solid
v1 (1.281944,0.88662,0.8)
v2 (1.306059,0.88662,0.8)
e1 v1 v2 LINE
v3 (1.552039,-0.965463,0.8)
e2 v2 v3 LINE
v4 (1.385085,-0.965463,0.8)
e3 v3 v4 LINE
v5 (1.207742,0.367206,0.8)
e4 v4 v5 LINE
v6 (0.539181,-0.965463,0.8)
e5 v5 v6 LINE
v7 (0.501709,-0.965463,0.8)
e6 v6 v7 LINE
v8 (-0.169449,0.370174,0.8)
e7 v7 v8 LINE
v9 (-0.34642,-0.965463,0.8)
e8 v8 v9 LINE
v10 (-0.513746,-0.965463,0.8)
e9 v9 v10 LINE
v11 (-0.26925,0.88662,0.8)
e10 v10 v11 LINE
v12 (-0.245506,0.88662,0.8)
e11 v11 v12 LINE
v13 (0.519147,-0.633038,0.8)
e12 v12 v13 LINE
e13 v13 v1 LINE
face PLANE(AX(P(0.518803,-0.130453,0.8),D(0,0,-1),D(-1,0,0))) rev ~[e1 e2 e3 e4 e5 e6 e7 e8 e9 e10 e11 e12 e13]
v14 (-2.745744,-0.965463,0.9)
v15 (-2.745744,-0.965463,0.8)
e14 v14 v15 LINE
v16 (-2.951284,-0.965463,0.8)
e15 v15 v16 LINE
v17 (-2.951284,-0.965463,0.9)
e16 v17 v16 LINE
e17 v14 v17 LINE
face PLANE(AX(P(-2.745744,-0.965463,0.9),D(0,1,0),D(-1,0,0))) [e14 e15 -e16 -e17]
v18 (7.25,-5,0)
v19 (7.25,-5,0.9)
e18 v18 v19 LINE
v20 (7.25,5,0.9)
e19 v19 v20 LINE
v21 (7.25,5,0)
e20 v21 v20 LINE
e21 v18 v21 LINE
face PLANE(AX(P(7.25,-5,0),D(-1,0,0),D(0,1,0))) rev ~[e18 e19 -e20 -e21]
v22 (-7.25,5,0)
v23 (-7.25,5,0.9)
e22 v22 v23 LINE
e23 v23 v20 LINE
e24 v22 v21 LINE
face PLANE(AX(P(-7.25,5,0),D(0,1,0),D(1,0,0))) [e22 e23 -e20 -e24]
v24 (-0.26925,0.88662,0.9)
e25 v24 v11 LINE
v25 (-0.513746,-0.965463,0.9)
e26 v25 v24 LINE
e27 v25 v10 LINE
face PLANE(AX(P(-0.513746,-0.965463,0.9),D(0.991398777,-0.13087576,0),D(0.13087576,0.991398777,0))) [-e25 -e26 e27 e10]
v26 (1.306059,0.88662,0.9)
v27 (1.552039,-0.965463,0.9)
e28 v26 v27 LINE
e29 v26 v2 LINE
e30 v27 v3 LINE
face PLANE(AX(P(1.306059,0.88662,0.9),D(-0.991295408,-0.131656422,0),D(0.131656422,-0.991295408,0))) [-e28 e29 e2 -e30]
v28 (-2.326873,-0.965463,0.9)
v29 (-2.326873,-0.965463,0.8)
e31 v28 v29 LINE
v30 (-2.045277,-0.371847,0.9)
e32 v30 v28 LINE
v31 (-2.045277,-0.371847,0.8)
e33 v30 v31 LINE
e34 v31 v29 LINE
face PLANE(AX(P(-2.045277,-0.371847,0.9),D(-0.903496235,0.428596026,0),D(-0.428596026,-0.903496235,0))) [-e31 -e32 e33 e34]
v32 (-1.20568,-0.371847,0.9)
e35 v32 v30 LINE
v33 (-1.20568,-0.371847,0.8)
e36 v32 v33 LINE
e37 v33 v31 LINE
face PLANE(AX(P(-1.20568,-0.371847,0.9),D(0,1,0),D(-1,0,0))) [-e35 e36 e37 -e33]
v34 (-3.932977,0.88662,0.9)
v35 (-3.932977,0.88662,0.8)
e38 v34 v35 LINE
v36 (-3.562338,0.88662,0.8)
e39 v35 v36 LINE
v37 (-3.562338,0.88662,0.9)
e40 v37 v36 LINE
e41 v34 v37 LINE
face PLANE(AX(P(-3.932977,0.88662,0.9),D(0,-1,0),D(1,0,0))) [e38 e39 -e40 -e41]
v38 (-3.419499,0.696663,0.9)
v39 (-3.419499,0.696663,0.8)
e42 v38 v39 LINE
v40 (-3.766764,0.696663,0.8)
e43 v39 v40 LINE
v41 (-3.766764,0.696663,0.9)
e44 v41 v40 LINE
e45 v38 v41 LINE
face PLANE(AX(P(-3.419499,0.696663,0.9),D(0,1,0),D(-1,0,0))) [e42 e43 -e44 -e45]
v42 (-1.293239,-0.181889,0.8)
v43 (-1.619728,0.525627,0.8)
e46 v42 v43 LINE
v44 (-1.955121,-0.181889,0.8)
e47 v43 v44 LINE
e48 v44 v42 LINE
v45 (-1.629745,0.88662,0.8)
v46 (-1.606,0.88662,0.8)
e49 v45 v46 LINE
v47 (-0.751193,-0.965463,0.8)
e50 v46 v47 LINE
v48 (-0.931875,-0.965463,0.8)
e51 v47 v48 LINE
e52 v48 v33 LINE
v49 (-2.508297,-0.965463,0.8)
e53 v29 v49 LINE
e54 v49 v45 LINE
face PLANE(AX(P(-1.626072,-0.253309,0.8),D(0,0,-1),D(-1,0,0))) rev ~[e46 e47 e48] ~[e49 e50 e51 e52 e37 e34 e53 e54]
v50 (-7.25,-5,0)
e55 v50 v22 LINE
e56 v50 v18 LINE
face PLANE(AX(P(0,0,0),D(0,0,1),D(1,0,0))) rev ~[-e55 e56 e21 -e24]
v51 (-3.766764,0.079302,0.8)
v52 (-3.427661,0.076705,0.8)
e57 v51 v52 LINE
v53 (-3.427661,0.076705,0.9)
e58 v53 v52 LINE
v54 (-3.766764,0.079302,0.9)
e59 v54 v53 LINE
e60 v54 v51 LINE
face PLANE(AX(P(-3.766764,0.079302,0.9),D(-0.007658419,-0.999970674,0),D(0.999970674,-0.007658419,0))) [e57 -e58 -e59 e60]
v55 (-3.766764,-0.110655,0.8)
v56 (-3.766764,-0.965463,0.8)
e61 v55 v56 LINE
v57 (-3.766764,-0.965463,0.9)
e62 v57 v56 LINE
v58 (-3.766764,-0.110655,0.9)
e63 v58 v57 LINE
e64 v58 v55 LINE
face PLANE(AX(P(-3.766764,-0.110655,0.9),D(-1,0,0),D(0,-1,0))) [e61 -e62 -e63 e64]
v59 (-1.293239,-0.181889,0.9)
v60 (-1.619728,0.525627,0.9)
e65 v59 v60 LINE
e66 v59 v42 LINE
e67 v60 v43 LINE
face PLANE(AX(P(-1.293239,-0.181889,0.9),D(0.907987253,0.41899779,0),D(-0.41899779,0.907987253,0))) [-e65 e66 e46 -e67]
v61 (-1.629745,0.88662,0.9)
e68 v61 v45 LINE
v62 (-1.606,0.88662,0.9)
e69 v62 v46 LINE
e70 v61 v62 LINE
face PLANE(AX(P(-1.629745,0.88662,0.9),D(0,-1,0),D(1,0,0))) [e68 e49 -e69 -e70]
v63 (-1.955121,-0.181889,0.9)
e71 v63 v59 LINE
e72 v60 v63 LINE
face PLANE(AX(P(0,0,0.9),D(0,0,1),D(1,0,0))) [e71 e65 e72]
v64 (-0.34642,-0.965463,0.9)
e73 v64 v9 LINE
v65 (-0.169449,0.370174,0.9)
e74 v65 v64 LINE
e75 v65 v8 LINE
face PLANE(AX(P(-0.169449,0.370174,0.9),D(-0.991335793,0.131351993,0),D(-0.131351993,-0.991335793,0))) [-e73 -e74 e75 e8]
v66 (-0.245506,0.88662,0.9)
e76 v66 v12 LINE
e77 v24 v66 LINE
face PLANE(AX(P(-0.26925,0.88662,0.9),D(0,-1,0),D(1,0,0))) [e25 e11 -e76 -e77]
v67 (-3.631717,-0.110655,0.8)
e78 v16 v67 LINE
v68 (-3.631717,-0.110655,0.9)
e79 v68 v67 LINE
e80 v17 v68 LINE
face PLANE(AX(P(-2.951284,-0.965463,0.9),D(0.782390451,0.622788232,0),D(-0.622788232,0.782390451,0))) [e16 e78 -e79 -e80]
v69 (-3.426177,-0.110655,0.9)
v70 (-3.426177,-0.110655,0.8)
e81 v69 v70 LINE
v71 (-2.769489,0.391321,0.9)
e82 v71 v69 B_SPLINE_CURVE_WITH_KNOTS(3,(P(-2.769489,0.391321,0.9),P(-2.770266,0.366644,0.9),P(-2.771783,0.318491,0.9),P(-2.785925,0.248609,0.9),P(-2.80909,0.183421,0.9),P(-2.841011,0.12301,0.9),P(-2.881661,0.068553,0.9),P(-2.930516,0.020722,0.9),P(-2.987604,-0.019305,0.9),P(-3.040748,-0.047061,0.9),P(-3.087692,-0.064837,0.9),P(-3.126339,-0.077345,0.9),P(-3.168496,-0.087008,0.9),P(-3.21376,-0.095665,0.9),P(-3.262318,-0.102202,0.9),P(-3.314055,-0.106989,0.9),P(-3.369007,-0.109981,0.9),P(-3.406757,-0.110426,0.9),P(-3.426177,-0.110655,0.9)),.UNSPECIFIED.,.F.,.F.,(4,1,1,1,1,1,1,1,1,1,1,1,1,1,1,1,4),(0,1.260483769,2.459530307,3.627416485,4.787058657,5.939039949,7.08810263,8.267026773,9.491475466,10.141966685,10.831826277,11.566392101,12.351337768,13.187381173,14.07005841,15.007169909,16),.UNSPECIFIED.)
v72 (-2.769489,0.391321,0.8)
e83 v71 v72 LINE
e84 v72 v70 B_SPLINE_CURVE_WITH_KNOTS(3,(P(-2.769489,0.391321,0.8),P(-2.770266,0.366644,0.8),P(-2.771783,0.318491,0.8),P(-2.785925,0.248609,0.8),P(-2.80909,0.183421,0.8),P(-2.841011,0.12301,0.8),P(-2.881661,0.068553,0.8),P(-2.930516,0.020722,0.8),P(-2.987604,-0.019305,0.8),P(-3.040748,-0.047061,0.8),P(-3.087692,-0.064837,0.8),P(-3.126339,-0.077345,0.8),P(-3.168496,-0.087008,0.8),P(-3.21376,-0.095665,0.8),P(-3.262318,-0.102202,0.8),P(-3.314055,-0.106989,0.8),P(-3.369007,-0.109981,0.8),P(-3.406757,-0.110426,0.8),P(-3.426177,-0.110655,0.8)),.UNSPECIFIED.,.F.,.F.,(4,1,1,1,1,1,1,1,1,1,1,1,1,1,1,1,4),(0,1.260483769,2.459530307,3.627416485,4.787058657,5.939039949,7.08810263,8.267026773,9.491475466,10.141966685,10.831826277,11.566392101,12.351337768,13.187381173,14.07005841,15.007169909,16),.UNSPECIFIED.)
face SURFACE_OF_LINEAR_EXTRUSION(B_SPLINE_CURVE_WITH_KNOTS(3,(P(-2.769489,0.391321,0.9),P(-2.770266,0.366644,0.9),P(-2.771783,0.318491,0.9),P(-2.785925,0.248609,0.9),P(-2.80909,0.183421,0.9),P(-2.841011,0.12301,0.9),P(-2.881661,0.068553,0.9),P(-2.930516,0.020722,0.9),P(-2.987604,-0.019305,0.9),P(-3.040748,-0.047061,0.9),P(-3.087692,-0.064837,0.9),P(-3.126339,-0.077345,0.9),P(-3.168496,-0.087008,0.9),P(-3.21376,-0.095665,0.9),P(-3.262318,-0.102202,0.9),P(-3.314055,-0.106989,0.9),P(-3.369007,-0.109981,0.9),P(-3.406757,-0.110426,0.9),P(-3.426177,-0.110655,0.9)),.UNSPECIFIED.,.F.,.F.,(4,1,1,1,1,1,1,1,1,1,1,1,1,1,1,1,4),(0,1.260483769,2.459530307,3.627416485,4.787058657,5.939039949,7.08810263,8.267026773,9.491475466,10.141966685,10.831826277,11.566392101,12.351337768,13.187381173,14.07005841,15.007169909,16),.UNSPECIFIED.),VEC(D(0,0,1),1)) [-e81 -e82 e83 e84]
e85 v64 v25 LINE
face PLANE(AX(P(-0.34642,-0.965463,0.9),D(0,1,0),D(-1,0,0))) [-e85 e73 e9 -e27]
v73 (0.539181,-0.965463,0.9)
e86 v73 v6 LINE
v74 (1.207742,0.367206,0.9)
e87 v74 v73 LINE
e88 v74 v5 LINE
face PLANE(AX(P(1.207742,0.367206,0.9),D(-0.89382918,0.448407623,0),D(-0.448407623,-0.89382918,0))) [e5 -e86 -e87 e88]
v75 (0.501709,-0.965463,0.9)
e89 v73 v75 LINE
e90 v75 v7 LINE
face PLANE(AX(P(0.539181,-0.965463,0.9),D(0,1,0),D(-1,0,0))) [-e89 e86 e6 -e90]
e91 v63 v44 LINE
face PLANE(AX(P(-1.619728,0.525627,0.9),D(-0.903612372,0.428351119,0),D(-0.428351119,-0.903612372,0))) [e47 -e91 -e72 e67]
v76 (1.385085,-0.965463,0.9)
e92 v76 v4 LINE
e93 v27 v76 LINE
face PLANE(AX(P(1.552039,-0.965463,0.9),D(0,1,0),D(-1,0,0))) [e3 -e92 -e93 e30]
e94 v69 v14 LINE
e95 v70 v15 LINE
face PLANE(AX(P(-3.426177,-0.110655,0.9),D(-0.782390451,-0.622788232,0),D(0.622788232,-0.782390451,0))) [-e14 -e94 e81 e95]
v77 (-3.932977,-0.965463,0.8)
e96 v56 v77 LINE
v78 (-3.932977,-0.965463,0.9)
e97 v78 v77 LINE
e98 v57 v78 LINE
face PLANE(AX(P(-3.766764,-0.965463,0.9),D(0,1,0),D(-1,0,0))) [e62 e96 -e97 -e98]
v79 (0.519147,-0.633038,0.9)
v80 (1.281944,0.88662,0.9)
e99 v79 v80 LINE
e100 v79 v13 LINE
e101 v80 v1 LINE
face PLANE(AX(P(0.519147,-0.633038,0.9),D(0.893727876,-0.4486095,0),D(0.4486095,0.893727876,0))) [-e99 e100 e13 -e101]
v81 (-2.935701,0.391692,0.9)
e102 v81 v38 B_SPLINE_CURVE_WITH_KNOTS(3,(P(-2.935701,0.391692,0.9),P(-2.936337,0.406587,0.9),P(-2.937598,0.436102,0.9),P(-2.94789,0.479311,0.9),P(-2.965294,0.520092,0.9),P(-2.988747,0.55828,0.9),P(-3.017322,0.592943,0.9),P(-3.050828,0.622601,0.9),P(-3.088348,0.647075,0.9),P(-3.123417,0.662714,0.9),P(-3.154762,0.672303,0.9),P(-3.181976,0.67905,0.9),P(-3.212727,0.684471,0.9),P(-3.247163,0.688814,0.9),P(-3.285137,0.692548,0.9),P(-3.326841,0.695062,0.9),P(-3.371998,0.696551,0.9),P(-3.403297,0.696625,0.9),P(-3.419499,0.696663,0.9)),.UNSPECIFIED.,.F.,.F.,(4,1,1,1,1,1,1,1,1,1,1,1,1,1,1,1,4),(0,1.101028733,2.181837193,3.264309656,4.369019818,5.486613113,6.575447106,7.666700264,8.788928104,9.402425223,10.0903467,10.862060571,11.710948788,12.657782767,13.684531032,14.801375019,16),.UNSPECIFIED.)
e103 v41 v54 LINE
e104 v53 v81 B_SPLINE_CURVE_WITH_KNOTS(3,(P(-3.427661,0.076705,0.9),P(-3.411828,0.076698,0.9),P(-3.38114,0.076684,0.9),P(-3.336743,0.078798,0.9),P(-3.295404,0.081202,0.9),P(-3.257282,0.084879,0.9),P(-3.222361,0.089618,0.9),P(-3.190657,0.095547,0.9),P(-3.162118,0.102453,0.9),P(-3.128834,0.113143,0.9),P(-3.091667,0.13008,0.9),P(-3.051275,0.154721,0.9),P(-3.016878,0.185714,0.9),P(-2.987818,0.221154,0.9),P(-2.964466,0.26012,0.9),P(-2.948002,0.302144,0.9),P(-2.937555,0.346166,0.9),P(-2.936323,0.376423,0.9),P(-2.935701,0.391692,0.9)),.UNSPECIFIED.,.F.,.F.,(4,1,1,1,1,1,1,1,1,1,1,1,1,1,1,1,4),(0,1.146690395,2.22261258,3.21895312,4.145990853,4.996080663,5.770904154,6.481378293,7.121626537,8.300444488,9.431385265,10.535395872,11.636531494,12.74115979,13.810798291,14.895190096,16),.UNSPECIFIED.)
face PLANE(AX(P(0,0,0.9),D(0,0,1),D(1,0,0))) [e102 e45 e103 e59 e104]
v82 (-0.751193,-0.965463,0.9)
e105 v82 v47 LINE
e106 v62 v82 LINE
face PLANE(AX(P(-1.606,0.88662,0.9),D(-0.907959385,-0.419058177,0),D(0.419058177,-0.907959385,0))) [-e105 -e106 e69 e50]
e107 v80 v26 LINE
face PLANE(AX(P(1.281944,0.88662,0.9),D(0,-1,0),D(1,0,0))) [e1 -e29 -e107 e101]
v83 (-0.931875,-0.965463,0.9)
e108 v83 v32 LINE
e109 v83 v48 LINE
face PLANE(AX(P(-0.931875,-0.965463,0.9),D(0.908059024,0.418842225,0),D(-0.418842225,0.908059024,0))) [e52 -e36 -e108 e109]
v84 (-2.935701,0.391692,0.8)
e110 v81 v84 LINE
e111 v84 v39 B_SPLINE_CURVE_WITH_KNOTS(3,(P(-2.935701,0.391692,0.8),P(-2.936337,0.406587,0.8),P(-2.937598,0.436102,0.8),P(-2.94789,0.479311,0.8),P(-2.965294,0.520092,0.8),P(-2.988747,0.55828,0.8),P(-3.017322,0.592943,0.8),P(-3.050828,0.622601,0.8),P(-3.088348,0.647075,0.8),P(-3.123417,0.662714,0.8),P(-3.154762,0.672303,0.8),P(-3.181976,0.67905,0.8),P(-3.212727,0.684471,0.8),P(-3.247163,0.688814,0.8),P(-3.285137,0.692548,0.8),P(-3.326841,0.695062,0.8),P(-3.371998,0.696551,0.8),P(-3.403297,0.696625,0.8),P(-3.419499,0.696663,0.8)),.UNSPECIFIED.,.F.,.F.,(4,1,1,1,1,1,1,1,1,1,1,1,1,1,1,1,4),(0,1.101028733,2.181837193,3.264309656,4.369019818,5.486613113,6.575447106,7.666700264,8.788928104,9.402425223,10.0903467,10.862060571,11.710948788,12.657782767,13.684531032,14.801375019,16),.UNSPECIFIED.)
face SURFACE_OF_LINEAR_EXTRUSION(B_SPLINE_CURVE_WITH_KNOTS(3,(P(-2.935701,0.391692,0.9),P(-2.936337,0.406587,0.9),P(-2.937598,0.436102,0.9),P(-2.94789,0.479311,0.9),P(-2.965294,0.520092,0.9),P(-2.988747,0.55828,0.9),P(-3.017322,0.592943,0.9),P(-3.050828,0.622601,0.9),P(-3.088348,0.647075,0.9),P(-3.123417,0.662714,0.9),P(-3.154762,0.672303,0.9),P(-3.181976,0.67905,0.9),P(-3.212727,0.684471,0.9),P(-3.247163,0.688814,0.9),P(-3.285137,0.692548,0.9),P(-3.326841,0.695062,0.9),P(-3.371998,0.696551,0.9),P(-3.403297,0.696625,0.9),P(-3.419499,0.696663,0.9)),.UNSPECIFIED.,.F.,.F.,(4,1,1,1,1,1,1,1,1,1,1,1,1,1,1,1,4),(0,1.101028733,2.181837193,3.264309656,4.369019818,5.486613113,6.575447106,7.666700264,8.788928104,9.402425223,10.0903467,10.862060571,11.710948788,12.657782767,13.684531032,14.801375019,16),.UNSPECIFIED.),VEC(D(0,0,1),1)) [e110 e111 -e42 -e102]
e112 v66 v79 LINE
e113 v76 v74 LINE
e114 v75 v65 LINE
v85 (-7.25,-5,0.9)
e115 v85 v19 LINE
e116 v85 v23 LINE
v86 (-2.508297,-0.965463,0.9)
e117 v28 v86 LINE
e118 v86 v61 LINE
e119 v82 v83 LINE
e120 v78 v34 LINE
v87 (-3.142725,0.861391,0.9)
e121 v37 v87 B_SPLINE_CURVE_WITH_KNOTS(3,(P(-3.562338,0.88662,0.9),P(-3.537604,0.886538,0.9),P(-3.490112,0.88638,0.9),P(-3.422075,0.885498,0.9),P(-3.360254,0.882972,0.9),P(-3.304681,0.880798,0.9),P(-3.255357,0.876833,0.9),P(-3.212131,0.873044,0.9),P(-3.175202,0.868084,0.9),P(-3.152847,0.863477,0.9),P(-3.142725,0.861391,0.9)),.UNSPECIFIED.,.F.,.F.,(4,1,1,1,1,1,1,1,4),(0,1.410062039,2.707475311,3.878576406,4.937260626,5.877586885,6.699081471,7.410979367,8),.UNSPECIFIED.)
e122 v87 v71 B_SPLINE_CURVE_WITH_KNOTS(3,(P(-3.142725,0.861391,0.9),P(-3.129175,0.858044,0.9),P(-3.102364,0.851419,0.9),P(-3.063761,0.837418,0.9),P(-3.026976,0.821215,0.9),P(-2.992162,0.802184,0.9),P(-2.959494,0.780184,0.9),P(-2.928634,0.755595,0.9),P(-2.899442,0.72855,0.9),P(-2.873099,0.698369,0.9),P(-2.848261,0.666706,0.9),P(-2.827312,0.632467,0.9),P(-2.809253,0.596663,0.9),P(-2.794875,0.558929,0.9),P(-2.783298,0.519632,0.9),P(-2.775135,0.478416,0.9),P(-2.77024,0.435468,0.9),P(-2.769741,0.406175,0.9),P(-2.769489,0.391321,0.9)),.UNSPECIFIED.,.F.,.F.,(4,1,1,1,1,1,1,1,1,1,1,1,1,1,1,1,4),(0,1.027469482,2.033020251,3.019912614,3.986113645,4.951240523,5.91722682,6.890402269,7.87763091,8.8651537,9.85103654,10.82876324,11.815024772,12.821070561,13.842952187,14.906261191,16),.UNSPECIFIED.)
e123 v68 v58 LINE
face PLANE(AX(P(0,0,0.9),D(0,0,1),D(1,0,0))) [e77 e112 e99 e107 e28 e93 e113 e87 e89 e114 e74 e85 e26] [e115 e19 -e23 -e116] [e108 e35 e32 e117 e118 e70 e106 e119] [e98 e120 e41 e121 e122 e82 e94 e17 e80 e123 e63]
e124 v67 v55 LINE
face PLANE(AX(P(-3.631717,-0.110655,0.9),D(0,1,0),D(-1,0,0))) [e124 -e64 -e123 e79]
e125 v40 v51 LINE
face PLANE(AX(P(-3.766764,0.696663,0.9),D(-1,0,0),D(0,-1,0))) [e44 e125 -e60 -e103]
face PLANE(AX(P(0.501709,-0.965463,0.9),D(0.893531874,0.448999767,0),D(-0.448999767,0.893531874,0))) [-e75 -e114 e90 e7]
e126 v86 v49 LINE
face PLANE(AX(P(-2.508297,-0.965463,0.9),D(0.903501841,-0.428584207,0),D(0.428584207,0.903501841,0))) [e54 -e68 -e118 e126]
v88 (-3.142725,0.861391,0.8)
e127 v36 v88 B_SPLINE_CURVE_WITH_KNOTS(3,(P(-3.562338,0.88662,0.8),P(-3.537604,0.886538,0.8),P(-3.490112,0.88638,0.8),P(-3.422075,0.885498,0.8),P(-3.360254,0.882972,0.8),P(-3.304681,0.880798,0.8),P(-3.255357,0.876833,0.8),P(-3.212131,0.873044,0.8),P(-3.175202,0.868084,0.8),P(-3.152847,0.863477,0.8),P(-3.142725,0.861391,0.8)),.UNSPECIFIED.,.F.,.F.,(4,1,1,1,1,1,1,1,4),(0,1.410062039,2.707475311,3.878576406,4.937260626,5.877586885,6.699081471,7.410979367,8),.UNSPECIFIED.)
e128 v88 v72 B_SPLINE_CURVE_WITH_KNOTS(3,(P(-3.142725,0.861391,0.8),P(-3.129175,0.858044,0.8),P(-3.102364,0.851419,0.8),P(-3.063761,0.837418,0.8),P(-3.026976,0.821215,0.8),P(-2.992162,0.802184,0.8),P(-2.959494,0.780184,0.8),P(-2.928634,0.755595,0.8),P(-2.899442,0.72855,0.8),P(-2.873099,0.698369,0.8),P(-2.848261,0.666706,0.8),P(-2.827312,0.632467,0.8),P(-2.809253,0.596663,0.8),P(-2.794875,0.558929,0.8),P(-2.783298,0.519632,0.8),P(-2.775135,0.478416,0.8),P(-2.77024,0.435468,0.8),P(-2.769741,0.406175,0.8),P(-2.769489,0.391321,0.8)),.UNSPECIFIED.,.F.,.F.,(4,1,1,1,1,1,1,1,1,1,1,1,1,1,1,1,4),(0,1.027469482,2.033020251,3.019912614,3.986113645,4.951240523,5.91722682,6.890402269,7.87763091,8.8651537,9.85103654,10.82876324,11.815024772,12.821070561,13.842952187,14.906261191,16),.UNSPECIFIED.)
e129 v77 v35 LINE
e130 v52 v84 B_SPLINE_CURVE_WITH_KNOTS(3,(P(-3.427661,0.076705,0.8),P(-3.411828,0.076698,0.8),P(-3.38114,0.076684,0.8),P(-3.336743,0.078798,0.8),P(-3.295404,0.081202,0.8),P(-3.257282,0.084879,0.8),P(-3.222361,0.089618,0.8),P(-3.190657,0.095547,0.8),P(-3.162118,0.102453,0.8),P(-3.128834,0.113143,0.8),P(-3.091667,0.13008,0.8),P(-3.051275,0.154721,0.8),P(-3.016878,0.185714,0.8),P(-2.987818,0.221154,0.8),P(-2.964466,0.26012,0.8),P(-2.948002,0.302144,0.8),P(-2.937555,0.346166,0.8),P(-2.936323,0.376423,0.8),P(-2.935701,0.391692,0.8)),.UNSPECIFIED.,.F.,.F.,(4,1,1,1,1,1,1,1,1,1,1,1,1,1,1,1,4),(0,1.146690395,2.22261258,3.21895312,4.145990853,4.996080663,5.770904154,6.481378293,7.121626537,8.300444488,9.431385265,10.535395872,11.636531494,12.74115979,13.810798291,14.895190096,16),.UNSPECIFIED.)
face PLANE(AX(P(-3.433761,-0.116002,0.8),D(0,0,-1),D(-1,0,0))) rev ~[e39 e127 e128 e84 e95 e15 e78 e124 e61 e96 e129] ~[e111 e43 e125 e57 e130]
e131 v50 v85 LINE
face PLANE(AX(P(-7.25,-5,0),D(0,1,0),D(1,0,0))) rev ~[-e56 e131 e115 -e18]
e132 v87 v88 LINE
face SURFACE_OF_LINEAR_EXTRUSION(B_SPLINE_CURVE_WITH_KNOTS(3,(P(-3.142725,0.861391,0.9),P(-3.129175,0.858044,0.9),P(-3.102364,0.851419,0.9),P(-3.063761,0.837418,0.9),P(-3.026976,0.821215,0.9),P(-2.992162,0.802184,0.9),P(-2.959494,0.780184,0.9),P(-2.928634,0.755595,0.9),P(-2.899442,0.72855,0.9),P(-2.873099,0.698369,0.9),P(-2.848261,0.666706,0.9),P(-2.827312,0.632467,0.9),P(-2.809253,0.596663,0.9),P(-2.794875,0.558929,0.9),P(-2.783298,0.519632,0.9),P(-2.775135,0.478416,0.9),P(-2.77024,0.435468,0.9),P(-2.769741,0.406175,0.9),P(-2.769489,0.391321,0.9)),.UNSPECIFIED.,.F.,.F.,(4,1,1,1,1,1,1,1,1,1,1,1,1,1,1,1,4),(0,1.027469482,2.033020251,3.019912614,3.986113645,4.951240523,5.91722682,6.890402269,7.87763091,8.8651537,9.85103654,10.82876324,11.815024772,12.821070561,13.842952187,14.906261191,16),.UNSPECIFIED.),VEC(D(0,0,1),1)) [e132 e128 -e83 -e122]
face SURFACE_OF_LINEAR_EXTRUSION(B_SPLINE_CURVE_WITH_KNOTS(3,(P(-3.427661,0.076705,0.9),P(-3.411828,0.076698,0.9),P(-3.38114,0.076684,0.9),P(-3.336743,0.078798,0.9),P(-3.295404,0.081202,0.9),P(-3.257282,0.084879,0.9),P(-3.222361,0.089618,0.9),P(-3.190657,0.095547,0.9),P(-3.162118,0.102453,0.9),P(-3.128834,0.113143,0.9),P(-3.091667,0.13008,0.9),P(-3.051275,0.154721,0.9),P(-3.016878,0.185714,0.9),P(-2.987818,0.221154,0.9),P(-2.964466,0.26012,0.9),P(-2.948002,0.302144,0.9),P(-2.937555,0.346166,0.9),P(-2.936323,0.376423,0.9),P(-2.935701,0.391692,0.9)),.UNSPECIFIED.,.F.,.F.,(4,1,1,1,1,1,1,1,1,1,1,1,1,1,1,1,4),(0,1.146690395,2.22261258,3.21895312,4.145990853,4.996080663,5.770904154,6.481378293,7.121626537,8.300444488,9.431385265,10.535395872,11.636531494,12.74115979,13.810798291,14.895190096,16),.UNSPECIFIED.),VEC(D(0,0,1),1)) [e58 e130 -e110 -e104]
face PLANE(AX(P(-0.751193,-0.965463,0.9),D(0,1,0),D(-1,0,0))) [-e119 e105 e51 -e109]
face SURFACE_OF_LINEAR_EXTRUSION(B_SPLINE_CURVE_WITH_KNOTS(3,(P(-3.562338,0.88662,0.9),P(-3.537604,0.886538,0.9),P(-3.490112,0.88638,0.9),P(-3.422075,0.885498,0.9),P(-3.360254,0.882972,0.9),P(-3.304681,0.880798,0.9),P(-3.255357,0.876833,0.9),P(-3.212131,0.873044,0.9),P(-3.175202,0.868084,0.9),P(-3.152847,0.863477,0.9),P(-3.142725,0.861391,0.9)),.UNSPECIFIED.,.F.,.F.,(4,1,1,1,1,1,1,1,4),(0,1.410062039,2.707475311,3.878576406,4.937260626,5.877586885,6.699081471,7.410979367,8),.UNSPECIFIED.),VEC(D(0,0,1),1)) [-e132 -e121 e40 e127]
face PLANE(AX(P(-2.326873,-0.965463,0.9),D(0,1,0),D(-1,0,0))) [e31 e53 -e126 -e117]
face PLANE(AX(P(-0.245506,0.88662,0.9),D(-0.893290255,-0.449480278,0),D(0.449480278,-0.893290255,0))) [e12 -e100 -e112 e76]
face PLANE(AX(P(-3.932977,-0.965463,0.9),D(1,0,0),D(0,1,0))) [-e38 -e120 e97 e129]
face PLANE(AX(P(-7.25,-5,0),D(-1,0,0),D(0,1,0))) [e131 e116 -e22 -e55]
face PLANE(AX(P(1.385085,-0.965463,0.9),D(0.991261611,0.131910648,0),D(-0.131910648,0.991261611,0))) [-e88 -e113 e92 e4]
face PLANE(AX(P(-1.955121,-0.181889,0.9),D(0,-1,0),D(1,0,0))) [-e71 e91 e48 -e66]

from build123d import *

# Parameters (mm, degrees)
ESQUISSE1_W             = 14.5
ESQUISSE1_H             = 10
BOSS_EXTRU_1_DEPTH      = 0.9
ENL_V_MAT_EXTRU_1_DEPTH = 0.1


with BuildPart() as part:
    # Esquisse1 → Boss.-Extru.1 (new body)
    with BuildSketch(Plane.XY):
        Rectangle(ESQUISSE1_W, ESQUISSE1_H)
    extrude(amount=BOSS_EXTRU_1_DEPTH)

    # Esquisse2 → Enlèv. mat.-Extru.1 (cut)
    # profile 1 of 3: a face of its own
    with BuildSketch(Plane.XY.offset(0.9)):
        with BuildLine():
            Line((-3.93297689, 0.88662019), (-3.562337617, 0.88662019))
            add(Edge.make_bspline(
                [(-3.562337617, 0.88662019), (-3.53760377, 0.886537859), (-3.490112043, 0.886379775), (-3.422075354, 0.885498308), (-3.360254349, 0.882971879), (-3.304681351, 0.880797753), (-3.255357379, 0.876833268), (-3.212131188, 0.873044092), (-3.175201864, 0.868083863), (-3.152846768, 0.863477243), (-3.142724987, 0.861391491)],
                knots=[0, 0, 0, 0, 1.410062039, 2.707475311, 3.878576406, 4.937260626, 5.877586885, 6.699081471, 7.410979367, 8, 8, 8, 8], degree=3))
            add(Edge.make_bspline(
                [(-3.142724987, 0.861391491), (-3.129174815, 0.858043577), (-3.102363533, 0.851419171), (-3.06376079, 0.837417632), (-3.026976127, 0.821214747), (-2.992162344, 0.802183945), (-2.959493822, 0.780183958), (-2.928633716, 0.755594576), (-2.899441991, 0.728550347), (-2.873099212, 0.69836941), (-2.84826063, 0.666705923), (-2.827311649, 0.632466852), (-2.809253053, 0.596662627), (-2.794875321, 0.558929118), (-2.783298227, 0.519632264), (-2.775135175, 0.478416109), (-2.770239755, 0.435468427), (-2.769741357, 0.406174867), (-2.769488642, 0.391321462)],
                knots=[0, 0, 0, 0, 1.027469482, 2.033020251, 3.019912614, 3.986113645, 4.951240523, 5.91722682, 6.890402269, 7.87763091, 8.8651537, 9.85103654, 10.82876324, 11.815024772, 12.821070561, 13.842952187, 14.906261191, 16, 16, 16, 16], degree=3))
            add(Edge.make_bspline(
                [(-2.769488642, 0.391321462), (-2.770265987, 0.366643719), (-2.771782788, 0.318491051), (-2.785924822, 0.248608835), (-2.809089897, 0.183421156), (-2.841010971, 0.123010093), (-2.881661277, 0.06855321), (-2.930516479, 0.020721594), (-2.987603831, -0.019304526), (-3.040747678, -0.047060802), (-3.087692275, -0.06483705), (-3.12633907, -0.077344623), (-3.168496179, -0.087008246), (-3.213759685, -0.095665482), (-3.262317953, -0.102201587), (-3.314054598, -0.106988744), (-3.36900652, -0.109980678), (-3.406756778, -0.110426239), (-3.426176843, -0.110655451)],
                knots=[0, 0, 0, 0, 1.260483769, 2.459530307, 3.627416485, 4.787058657, 5.939039949, 7.08810263, 8.267026773, 9.491475466, 10.141966685, 10.831826277, 11.566392101, 12.351337768, 13.187381173, 14.07005841, 15.007169909, 16, 16, 16, 16], degree=3))
            Line((-3.426176843, -0.110655451), (-2.745743984, -0.965463143))
            Line((-2.745743984, -0.965463143), (-2.951283681, -0.965463143))
            Line((-2.951283681, -0.965463143), (-3.63171654, -0.110655451))
            Line((-3.63171654, -0.110655451), (-3.766764283, -0.110655451))
            Line((-3.766764283, -0.110655451), (-3.766764283, -0.965463143))
            Line((-3.766764283, -0.965463143), (-3.93297689, -0.965463143))
            Line((-3.93297689, -0.965463143), (-3.93297689, 0.88662019))
        make_face()
        with BuildLine():
            Line((-3.766764283, 0.696662925), (-3.766764283, 0.079301814))
            Line((-3.766764283, 0.079301814), (-3.427660884, 0.076704742))
            add(Edge.make_bspline(
                [(-3.427660884, 0.076704742), (-3.411828197, 0.076697738), (-3.38113994, 0.076684161), (-3.336742505, 0.078797534), (-3.295403945, 0.081201707), (-3.257282381, 0.084879069), (-3.22236078, 0.089618324), (-3.190656599, 0.095546569), (-3.162118084, 0.102453286), (-3.128834274, 0.113143313), (-3.091667443, 0.130079831), (-3.051275379, 0.154720741), (-3.016878309, 0.185713566), (-2.987817607, 0.221153687), (-2.964465782, 0.260119535), (-2.94800232, 0.30214403), (-2.937555278, 0.346166251), (-2.936323089, 0.376423), (-2.935701249, 0.391692472)],
                knots=[0, 0, 0, 0, 1.146690395, 2.22261258, 3.21895312, 4.145990853, 4.996080663, 5.770904154, 6.481378293, 7.121626537, 8.300444488, 9.431385265, 10.535395872, 11.636531494, 12.74115979, 13.810798291, 14.895190096, 16, 16, 16, 16], degree=3))
            add(Edge.make_bspline(
                [(-2.935701249, 0.391692472), (-2.936337371, 0.406586701), (-2.937597934, 0.436101627), (-2.947889574, 0.479311213), (-2.965293538, 0.520092474), (-2.988747389, 0.558279514), (-3.017321942, 0.592942966), (-3.050827618, 0.622601251), (-3.088348283, 0.647074926), (-3.123416793, 0.662714119), (-3.154761563, 0.672302542), (-3.181976425, 0.679050033), (-3.212727082, 0.684471064), (-3.247162846, 0.688814496), (-3.285136709, 0.692547738), (-3.326840678, 0.69506222), (-3.371998058, 0.696551224), (-3.403296642, 0.696624825), (-3.419498658, 0.696662925)],
                knots=[0, 0, 0, 0, 1.101028733, 2.181837193, 3.264309656, 4.369019818, 5.486613113, 6.575447106, 7.666700264, 8.788928104, 9.402425223, 10.0903467, 10.862060571, 11.710948788, 12.657782767, 13.684531032, 14.801375019, 16, 16, 16, 16], degree=3))
            Line((-3.419498658, 0.696662925), (-3.766764283, 0.696662925))
        make_face(mode=Mode.SUBTRACT)
    # profile 2 of 3: a face of its own
    with BuildSketch(Plane.XY.offset(0.9)):
        Polygon((-1.606000394, 0.88662019), (-0.751192702, -0.965463143), (-0.93187471, -0.965463143), (-1.205680299, -0.37184669), (-2.045276569, -0.37184669), (-2.326873374, -0.965463143), (-2.508297403, -0.965463143), (-1.629745052, 0.88662019), align=None)
        Polygon((-1.619727775, 0.525627185), (-1.955121071, -0.181889425), (-1.293238725, -0.181889425), align=None, mode=Mode.SUBTRACT)
    # profile 3 of 3: a face of its own
    with BuildSketch(Plane.XY.offset(0.9)):
        Polygon((-0.513746121, -0.965463143), (-0.269250344, 0.88662019), (-0.245505686, 0.88662019), (0.519146508, -0.63303793), (1.28194365, 0.88662019), (1.306059318, 0.88662019), (1.552039136, -0.965463143), (1.385084508, -0.965463143), (1.207741593, 0.367205794), (0.539181063, -0.965463143), (0.501709024, -0.965463143), (-0.169448578, 0.370173876), (-0.346420483, -0.965463143), align=None)
    extrude(amount=-ENL_V_MAT_EXTRU_1_DEPTH, mode=Mode.SUBTRACT)


solid = part.part
